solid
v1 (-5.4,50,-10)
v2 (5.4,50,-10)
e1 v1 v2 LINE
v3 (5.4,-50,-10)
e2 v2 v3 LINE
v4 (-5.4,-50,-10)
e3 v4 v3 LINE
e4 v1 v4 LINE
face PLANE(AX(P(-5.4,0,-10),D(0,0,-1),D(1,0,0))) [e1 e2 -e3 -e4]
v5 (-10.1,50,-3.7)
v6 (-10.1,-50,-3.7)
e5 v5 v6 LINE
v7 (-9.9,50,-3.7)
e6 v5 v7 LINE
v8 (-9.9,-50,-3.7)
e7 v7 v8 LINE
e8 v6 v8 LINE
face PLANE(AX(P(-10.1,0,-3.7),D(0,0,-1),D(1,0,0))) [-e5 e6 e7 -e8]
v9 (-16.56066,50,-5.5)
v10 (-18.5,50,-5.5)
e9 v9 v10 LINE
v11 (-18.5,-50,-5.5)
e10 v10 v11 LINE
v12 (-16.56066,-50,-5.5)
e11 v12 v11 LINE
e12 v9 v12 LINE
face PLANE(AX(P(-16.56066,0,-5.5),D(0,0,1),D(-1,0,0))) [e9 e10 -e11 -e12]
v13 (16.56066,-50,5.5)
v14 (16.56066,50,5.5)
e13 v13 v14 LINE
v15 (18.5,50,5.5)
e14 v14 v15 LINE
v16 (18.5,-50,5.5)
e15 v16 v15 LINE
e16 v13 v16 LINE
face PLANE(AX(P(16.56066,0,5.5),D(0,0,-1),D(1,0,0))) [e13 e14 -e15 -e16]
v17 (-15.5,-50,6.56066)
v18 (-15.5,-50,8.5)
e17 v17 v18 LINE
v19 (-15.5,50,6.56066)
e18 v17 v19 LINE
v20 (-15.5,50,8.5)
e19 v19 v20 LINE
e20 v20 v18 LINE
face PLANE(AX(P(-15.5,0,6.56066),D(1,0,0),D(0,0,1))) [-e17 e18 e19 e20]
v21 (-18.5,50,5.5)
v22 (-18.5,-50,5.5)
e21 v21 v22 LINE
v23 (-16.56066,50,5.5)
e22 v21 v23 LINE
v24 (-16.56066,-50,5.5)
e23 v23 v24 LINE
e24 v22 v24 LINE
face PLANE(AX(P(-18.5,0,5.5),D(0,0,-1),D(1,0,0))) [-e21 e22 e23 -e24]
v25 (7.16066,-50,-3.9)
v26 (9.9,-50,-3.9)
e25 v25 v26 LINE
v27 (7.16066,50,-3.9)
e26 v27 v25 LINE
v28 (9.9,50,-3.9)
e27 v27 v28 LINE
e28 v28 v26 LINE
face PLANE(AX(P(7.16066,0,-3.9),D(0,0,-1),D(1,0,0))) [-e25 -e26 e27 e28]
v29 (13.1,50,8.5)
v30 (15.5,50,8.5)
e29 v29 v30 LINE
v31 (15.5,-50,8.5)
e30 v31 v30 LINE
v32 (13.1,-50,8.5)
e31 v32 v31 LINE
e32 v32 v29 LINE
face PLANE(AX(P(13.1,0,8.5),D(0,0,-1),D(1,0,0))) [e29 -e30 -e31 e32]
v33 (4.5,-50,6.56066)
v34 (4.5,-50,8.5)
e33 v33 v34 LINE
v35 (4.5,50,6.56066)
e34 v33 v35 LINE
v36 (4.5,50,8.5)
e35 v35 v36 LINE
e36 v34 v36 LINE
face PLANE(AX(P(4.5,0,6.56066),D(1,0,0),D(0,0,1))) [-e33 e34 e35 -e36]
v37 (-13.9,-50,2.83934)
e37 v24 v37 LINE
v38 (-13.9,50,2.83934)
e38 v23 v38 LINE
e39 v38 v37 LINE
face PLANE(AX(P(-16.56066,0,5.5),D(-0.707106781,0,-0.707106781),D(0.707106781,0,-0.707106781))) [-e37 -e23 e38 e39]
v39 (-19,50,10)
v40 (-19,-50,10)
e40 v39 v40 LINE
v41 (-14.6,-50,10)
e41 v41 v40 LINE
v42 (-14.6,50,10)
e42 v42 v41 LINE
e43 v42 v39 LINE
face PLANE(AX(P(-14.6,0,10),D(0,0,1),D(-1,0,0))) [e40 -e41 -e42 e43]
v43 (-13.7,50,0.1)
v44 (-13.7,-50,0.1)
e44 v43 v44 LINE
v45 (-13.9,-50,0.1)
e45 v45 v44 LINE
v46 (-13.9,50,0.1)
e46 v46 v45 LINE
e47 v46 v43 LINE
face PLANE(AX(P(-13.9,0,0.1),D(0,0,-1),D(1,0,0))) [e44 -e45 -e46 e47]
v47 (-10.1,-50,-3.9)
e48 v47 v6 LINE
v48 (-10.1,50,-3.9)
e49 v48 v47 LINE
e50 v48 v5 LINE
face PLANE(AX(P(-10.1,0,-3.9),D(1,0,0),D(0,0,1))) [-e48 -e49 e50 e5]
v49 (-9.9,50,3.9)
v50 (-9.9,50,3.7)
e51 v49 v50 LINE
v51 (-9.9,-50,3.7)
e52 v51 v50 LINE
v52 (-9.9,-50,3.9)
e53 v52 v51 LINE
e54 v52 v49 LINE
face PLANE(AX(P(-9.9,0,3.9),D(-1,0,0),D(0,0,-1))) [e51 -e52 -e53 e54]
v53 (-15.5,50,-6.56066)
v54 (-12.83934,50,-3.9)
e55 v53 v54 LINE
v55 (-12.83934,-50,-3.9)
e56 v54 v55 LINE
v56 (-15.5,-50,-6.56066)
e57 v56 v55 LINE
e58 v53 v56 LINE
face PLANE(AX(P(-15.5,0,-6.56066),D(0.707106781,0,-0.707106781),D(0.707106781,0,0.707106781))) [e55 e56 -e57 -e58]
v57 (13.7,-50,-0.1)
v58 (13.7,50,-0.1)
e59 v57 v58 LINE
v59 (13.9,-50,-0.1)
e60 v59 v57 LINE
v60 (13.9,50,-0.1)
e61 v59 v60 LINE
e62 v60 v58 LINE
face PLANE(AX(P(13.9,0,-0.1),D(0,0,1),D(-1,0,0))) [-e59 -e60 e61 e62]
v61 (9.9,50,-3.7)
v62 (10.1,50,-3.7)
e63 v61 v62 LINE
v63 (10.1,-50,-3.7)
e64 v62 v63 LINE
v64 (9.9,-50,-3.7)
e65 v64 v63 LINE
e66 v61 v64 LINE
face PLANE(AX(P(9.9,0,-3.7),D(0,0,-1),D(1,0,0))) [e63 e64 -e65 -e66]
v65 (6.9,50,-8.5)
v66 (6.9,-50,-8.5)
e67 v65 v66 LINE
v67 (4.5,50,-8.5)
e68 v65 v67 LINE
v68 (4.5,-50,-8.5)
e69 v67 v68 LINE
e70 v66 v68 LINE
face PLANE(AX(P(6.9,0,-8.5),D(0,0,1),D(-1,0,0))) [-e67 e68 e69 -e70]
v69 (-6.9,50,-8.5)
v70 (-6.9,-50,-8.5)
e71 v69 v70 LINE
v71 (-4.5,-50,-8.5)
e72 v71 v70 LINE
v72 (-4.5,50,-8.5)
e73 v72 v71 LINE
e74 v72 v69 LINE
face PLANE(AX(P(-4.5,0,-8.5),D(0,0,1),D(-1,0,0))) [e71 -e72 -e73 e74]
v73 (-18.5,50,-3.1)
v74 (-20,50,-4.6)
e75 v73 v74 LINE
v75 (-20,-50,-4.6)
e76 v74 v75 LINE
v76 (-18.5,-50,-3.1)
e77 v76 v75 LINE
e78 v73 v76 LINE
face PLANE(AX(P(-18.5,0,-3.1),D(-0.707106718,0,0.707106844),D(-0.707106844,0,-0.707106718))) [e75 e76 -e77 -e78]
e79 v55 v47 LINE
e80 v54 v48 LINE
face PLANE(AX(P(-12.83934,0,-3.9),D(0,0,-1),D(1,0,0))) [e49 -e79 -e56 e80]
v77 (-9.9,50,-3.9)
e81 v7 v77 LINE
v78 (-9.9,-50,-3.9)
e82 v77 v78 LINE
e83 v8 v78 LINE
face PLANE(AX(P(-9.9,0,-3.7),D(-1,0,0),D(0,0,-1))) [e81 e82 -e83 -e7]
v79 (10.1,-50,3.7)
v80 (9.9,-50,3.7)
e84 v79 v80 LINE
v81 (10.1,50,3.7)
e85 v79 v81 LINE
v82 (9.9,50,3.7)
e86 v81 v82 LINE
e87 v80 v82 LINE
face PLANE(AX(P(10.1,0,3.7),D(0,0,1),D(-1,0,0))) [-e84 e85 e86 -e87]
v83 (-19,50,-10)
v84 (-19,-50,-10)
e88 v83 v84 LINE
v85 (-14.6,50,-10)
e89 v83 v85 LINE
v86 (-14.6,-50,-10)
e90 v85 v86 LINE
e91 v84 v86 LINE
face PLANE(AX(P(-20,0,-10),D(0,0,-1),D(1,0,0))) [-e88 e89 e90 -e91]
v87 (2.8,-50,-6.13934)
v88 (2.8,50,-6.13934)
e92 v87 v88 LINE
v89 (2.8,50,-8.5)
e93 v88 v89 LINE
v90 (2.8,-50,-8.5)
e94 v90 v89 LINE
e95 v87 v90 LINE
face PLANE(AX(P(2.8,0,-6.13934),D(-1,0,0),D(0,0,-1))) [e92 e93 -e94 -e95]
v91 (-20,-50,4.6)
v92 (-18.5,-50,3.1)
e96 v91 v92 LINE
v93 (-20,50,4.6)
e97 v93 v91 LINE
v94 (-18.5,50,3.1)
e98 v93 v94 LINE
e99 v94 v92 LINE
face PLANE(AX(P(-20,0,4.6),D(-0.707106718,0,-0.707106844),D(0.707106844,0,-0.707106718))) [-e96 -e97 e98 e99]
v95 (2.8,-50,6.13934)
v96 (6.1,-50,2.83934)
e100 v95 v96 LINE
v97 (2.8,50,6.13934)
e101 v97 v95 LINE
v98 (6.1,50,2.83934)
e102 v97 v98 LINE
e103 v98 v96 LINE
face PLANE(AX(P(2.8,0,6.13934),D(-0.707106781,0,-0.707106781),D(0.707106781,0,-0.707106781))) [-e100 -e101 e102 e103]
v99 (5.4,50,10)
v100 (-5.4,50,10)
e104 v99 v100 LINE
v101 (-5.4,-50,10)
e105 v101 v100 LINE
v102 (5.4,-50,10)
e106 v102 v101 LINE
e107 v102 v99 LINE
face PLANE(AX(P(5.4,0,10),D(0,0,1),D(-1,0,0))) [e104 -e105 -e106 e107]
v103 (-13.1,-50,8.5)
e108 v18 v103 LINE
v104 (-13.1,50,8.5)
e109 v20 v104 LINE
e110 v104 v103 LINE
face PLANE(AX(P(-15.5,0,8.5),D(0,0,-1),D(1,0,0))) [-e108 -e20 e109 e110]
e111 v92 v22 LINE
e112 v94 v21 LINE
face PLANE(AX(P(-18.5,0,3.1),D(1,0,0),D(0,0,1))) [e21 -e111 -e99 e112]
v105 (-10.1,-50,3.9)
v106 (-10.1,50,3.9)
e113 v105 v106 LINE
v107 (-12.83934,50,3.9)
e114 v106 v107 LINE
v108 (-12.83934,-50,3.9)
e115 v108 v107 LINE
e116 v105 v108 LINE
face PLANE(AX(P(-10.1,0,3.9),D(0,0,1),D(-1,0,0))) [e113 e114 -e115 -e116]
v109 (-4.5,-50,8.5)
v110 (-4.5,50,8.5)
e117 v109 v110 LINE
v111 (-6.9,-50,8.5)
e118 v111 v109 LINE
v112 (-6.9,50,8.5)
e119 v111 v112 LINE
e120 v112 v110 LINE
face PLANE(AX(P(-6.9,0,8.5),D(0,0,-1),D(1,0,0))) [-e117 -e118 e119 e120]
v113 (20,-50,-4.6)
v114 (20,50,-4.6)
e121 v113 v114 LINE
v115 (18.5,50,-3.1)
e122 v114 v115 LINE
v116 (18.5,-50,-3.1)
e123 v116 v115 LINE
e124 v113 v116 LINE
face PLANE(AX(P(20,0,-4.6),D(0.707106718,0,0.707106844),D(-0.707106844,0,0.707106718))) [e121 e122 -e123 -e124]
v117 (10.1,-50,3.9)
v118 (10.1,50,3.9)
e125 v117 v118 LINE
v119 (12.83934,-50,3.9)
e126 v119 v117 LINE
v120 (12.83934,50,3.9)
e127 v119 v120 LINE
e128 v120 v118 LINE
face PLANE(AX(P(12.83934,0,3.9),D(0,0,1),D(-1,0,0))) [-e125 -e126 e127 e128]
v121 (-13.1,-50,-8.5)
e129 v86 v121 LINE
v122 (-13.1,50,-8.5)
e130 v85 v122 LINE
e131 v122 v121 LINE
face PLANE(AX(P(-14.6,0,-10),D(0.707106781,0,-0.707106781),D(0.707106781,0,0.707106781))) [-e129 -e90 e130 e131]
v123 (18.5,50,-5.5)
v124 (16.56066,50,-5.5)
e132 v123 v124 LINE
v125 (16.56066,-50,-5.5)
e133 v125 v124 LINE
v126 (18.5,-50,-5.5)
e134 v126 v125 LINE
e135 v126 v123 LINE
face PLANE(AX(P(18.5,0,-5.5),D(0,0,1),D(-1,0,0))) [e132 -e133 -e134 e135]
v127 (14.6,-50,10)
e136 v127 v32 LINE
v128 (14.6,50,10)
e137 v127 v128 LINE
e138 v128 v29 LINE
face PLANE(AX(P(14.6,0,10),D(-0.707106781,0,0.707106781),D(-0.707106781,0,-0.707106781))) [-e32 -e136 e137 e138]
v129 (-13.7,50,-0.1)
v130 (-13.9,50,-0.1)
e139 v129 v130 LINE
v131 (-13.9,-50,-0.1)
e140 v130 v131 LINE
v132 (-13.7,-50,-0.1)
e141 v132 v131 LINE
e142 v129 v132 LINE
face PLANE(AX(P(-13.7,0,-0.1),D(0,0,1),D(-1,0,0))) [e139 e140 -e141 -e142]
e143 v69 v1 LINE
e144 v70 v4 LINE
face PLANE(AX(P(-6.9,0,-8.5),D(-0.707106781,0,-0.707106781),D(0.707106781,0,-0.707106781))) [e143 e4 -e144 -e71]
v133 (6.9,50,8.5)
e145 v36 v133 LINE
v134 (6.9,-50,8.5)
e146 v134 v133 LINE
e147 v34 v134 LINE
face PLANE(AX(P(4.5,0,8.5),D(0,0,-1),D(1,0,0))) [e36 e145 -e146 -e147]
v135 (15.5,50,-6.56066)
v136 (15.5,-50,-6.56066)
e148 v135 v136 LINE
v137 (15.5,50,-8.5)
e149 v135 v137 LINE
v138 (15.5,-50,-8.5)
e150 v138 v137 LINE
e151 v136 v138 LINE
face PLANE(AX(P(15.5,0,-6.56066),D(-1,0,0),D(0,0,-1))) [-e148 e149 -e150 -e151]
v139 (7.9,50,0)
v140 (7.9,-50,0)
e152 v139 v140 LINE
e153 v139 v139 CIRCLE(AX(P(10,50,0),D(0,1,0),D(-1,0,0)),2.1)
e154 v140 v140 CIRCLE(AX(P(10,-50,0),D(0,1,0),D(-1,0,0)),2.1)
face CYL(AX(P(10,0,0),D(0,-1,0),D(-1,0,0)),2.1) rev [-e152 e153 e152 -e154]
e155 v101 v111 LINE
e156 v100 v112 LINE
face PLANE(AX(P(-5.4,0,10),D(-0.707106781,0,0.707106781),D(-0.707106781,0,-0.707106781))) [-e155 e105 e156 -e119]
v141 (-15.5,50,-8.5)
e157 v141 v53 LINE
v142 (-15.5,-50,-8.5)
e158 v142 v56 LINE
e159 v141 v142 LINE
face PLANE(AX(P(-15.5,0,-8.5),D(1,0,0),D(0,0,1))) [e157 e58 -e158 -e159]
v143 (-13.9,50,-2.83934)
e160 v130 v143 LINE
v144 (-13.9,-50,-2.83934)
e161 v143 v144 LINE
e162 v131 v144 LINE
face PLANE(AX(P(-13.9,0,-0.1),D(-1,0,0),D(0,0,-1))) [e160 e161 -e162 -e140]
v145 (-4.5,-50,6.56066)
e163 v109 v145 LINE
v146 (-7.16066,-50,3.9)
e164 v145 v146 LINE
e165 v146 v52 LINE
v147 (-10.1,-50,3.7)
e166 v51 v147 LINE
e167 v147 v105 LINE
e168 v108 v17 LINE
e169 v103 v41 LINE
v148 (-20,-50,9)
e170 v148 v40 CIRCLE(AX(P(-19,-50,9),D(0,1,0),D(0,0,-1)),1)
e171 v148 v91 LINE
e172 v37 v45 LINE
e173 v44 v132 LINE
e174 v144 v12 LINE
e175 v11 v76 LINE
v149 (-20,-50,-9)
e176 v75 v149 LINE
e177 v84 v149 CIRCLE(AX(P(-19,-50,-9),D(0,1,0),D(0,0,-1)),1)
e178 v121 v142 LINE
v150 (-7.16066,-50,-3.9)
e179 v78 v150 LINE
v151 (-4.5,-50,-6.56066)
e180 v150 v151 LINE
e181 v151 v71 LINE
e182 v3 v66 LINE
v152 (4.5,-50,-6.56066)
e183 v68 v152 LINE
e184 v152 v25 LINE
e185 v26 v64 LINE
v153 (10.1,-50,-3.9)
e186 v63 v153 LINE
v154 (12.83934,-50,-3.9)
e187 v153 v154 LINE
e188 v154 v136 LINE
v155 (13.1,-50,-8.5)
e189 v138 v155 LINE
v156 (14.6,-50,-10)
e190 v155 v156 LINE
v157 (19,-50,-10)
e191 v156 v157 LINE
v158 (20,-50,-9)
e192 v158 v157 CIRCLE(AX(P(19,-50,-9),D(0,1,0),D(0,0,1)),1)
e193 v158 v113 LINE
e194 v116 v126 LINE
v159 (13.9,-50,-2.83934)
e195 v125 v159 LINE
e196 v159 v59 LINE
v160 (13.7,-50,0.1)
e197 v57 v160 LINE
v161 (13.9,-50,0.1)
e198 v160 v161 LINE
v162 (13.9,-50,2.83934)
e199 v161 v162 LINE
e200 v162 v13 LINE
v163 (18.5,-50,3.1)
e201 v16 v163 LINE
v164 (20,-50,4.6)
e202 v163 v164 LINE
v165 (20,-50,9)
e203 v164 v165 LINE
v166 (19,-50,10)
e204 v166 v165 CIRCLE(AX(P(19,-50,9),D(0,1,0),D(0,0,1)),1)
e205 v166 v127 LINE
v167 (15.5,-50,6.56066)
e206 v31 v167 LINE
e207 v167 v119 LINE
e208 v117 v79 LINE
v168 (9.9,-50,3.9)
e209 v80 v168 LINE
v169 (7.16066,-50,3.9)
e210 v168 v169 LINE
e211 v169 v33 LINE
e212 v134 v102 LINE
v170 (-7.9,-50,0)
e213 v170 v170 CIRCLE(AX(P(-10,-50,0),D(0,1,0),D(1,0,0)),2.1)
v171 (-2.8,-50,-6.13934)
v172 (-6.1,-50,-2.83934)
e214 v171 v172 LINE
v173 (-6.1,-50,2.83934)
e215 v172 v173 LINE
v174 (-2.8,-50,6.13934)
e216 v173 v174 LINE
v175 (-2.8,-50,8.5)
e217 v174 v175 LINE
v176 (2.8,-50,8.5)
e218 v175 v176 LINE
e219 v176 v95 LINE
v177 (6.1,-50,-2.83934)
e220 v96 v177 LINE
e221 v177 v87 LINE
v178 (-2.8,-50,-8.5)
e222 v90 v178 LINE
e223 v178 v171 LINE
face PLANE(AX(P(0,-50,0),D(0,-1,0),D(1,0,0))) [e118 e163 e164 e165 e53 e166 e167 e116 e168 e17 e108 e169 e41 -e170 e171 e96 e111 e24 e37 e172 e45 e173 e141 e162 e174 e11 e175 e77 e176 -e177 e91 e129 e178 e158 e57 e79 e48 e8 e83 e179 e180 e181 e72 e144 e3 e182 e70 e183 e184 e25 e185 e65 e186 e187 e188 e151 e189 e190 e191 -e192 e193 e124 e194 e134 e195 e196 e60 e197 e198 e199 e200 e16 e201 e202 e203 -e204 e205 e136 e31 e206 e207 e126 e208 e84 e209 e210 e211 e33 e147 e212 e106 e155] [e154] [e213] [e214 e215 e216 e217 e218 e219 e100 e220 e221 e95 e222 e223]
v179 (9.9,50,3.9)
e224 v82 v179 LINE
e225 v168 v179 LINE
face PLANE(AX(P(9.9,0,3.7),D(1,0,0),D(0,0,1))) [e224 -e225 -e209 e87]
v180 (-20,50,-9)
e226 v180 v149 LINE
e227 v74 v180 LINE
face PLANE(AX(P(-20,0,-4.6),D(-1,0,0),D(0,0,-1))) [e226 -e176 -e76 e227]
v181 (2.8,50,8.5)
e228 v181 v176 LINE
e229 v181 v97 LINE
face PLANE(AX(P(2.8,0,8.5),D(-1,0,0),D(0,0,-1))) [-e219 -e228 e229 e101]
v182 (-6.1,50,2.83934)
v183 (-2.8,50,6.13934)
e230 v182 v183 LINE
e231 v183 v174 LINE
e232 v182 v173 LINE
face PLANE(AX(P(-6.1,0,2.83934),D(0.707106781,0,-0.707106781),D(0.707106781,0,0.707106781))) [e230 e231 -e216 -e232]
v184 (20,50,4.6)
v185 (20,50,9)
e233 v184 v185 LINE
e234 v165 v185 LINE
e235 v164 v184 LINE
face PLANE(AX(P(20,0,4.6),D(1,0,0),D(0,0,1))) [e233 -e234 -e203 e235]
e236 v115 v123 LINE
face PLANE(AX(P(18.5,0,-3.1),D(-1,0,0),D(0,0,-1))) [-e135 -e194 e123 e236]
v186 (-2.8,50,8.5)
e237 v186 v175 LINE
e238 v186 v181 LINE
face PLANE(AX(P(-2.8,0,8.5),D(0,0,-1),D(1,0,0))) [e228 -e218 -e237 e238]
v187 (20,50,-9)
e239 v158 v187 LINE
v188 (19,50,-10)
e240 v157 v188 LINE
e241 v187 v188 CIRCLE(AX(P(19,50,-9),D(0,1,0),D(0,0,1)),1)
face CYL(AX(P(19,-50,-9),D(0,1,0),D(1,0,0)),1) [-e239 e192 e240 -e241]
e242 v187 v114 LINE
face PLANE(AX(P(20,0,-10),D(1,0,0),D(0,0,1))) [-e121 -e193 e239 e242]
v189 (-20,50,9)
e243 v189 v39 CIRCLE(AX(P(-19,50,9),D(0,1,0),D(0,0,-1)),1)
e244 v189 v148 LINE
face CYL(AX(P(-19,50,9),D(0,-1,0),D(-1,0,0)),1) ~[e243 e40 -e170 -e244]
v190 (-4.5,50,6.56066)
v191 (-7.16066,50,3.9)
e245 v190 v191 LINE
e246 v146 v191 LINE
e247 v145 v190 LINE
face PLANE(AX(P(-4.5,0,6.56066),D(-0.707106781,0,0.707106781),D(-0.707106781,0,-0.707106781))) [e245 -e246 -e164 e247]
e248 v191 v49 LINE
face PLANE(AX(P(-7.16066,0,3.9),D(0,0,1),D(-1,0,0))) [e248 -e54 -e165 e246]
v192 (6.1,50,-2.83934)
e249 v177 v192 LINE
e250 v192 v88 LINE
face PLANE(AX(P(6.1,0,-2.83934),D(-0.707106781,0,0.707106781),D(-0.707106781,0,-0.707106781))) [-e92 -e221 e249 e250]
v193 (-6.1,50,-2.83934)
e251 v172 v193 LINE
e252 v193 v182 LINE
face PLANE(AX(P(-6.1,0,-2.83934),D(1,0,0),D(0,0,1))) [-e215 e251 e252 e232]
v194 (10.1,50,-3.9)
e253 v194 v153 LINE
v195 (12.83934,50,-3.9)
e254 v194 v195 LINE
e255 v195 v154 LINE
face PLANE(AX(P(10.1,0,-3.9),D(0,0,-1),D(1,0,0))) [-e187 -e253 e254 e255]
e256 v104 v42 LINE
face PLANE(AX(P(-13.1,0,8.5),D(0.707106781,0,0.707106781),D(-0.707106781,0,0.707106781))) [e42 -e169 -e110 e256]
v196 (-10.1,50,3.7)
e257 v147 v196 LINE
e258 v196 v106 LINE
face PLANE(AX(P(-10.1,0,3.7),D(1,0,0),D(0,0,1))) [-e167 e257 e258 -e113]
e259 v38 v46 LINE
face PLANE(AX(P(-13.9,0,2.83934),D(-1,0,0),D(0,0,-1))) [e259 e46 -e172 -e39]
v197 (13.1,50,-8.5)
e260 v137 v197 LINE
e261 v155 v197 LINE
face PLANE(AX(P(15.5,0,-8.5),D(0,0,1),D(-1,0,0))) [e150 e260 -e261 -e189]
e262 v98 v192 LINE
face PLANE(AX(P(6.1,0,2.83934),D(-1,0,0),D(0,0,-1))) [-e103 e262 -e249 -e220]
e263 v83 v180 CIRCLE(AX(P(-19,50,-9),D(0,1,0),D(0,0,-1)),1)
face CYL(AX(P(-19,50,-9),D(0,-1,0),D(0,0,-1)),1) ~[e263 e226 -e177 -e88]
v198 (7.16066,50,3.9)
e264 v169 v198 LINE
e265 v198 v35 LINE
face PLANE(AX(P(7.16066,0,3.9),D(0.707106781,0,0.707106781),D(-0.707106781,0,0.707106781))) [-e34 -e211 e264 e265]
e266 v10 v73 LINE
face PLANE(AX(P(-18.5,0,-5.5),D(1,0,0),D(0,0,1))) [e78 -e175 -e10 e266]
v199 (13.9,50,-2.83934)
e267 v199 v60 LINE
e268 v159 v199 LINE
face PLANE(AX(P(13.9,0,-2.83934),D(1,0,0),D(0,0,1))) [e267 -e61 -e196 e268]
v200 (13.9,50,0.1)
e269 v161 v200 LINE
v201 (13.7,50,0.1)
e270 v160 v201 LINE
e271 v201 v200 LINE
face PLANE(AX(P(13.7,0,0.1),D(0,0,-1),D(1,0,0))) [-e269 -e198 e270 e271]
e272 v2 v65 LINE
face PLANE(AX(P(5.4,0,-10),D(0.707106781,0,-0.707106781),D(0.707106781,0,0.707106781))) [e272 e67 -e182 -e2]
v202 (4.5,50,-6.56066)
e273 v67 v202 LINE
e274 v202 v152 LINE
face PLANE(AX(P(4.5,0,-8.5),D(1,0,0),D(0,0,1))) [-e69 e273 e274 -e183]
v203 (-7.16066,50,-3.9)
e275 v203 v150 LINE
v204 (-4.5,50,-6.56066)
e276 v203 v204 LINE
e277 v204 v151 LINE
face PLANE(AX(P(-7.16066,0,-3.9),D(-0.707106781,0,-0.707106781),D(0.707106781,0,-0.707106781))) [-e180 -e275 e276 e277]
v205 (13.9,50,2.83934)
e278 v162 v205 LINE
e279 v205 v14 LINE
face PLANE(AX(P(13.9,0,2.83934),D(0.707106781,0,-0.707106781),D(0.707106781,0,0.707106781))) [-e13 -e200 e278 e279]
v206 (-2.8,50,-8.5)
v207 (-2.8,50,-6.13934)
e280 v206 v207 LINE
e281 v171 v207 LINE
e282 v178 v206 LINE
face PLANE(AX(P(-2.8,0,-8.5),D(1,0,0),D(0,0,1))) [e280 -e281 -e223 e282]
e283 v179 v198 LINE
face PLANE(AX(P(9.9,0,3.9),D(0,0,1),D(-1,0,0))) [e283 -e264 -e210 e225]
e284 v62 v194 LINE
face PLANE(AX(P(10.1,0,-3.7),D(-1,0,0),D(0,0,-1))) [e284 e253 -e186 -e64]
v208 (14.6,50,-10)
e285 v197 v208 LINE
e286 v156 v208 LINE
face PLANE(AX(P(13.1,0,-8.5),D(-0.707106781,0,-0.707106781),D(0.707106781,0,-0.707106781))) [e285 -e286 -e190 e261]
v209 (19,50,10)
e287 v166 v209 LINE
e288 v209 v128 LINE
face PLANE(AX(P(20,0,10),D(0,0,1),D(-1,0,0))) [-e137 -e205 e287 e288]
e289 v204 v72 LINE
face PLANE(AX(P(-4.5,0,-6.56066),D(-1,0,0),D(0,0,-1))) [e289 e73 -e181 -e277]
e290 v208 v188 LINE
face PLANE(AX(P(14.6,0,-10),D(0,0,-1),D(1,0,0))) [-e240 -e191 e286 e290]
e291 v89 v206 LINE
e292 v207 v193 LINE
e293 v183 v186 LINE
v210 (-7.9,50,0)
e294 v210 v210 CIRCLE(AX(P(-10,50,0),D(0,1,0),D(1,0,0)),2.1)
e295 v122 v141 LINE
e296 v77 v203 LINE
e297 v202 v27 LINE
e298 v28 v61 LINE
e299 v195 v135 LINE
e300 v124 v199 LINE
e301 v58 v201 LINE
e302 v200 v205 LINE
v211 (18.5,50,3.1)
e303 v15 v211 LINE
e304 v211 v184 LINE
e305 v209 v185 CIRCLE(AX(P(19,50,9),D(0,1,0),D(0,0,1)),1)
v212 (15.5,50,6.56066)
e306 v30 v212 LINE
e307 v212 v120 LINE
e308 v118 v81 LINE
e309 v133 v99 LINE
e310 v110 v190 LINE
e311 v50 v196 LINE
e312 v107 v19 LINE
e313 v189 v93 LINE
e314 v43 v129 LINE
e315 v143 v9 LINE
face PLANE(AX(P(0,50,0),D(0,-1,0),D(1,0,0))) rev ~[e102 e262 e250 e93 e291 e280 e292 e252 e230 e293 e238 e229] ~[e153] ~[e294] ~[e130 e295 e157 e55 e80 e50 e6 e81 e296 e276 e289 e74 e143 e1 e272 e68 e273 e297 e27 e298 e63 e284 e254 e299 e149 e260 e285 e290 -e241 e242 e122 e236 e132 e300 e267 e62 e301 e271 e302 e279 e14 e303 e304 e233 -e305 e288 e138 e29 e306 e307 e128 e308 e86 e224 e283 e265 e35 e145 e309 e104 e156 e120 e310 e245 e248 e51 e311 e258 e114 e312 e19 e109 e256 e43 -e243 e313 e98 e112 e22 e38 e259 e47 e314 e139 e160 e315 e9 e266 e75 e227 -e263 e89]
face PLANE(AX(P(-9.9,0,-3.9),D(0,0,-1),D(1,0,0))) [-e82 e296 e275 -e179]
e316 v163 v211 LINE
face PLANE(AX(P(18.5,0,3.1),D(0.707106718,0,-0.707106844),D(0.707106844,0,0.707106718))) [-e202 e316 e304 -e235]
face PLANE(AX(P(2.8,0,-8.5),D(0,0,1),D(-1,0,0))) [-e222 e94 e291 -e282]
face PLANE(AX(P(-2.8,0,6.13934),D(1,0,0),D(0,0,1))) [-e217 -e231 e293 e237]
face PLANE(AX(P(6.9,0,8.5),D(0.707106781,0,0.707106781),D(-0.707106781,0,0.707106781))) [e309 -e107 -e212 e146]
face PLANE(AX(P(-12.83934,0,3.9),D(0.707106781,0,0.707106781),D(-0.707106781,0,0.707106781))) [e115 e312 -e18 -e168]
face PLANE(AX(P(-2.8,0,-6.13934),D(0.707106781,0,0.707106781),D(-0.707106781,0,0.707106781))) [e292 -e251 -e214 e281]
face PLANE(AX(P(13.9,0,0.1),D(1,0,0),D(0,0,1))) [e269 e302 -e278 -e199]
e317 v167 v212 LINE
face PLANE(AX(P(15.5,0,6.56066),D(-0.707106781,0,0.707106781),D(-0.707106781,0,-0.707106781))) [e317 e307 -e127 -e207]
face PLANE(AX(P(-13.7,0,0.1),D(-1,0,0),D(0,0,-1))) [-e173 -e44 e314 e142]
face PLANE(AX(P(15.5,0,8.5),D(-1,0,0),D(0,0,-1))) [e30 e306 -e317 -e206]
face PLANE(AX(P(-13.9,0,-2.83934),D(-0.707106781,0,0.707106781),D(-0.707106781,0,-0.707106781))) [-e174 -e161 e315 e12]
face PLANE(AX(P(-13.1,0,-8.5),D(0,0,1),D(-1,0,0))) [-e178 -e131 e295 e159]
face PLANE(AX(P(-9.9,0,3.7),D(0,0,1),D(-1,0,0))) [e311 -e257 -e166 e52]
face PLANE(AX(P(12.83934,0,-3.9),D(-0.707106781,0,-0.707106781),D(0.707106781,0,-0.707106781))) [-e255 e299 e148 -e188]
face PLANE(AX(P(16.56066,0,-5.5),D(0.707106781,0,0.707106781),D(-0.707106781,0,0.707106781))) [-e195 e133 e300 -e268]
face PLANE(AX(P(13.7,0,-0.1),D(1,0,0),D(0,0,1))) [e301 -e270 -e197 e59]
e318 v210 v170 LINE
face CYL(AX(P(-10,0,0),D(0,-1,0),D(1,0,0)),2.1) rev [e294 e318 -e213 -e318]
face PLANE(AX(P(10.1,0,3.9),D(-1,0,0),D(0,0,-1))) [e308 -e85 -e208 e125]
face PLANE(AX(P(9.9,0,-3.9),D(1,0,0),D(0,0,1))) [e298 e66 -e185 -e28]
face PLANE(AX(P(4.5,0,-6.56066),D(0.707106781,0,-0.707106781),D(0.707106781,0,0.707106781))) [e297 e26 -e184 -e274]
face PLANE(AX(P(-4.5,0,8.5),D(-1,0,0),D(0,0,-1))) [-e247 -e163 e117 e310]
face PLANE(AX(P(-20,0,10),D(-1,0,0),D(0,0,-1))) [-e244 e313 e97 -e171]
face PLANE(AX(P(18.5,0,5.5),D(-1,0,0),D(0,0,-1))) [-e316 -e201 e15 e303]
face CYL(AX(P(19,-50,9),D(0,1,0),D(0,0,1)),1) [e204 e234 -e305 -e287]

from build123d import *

# Parameters (mm, degrees)
F1_DEPTH = 50
F2_R     = 1


with BuildPart() as f1:
    # F0 (on Front) → F1 (new body, symmetric)
    with BuildSketch(Plane.XZ):
        Polygon((-15.5, 6.5606601718), (-15.5, 8.4999998663), (-13.1, 8.4999998663), (-14.6, 9.9999998663), (-20, 9.9999998663), (-20, 4.5999998663), (-18.4999998663, 3.1), (-18.4999998663, 5.5), (-16.5606601718, 5.5), (-13.9, 2.8393398282), (-13.9, 0.1), (-13.7, 0.1), (-13.7, 0), (-13.7, -0.1), (-13.9, -0.1), (-13.9, -2.8393398282), (-16.5606601718, -5.5), (-18.4999998663, -5.5), (-18.4999998663, -3.1), (-20, -4.5999998663), (-20, -9.9999998663), (-14.6, -9.9999998663), (-13.1, -8.4999998663), (-15.5, -8.4999998663), (-15.5, -6.5606601718), (-12.8393398282, -3.9), (-10.1, -3.9), (-10.1, -3.7), (-9.9, -3.7), (-9.9, -3.9), (-7.1606601718, -3.9), (-4.5, -6.5606601718), (-4.5, -8.4999998663), (-6.9, -8.4999998663), (-5.4, -9.9999998663), (0, -9.9999998663), (5.4, -9.9999998663), (6.9, -8.4999998663), (4.5, -8.4999998663), (4.5, -6.5606601718), (7.1606601718, -3.9), (9.9, -3.9), (9.9, -3.7), (10.1, -3.7), (10.1, -3.9), (12.8393398282, -3.9), (15.5, -6.5606601718), (15.5, -8.4999998663), (13.1, -8.4999998663), (14.6, -9.9999998663), (20, -9.9999998663), (20, -4.5999998663), (18.4999998663, -3.1), (18.4999998663, -5.5), (16.5606601718, -5.5), (13.9, -2.8393398282), (13.9, -0.1), (13.7, -0.1), (13.7, 0), (13.7, 0.1), (13.9, 0.1), (13.9, 2.8393398282), (16.5606601718, 5.5), (18.4999998663, 5.5), (18.4999998663, 3.1), (20, 4.5999998663), (20, 9.9999998663), (14.6, 9.9999998663), (13.1, 8.4999998663), (15.5, 8.4999998663), (15.5, 6.5606601718), (12.8393398282, 3.9), (10.1, 3.9), (10.1, 3.7), (9.9, 3.7), (9.9, 3.9), (7.1606601718, 3.9), (4.5, 6.5606601718), (4.5, 8.4999998663), (6.9, 8.4999998663), (5.4, 9.9999998663), (0, 9.9999998663), (-5.4, 9.9999998663), (-6.9, 8.4999998663), (-4.5, 8.4999998663), (-4.5, 6.5606601718), (-7.1606601718, 3.9), (-9.9, 3.9), (-9.9, 3.7), (-10.1, 3.7), (-10.1, 3.9), (-12.8393398282, 3.9), align=None)
        with BuildLine():
            ThreePointArc((-12.1, 0), (-10, 2.1), (-7.9, 0))
            ThreePointArc((-7.9, 0), (-10, -2.1), (-12.1, 0))
        make_face(mode=Mode.SUBTRACT)
        Polygon((-6.1, 2.8393398282), (-2.8, 6.1393398282), (-2.8, 8.4999998663), (0, 8.4999998663), (2.8, 8.4999998663), (2.8, 6.1393398282), (6.1, 2.8393398282), (6.1, 0), (6.1, -2.8393398282), (2.8, -6.1393398282), (2.8, -8.4999998663), (0, -8.4999998663), (-2.8, -8.4999998663), (-2.8, -6.1393398282), (-6.1, -2.8393398282), (-6.1, 0), align=None, mode=Mode.SUBTRACT)
        with BuildLine():
            ThreePointArc((12.1, 0), (10, -2.1), (7.9, 0))
            ThreePointArc((7.9, 0), (10, 2.1), (12.1, 0))
        make_face(mode=Mode.SUBTRACT)
    extrude(amount=F1_DEPTH, both=True)

    # F2
    f2_edges = [f1.edges().sort_by_distance(p)[0] for p in [
        (-20, 0, 10),
        (20, 0, 10),
        (20, 0, -10),
        (-20, 0, -10),
    ]]
    fillet(f2_edges, radius=F2_R)


solid = f1.part
